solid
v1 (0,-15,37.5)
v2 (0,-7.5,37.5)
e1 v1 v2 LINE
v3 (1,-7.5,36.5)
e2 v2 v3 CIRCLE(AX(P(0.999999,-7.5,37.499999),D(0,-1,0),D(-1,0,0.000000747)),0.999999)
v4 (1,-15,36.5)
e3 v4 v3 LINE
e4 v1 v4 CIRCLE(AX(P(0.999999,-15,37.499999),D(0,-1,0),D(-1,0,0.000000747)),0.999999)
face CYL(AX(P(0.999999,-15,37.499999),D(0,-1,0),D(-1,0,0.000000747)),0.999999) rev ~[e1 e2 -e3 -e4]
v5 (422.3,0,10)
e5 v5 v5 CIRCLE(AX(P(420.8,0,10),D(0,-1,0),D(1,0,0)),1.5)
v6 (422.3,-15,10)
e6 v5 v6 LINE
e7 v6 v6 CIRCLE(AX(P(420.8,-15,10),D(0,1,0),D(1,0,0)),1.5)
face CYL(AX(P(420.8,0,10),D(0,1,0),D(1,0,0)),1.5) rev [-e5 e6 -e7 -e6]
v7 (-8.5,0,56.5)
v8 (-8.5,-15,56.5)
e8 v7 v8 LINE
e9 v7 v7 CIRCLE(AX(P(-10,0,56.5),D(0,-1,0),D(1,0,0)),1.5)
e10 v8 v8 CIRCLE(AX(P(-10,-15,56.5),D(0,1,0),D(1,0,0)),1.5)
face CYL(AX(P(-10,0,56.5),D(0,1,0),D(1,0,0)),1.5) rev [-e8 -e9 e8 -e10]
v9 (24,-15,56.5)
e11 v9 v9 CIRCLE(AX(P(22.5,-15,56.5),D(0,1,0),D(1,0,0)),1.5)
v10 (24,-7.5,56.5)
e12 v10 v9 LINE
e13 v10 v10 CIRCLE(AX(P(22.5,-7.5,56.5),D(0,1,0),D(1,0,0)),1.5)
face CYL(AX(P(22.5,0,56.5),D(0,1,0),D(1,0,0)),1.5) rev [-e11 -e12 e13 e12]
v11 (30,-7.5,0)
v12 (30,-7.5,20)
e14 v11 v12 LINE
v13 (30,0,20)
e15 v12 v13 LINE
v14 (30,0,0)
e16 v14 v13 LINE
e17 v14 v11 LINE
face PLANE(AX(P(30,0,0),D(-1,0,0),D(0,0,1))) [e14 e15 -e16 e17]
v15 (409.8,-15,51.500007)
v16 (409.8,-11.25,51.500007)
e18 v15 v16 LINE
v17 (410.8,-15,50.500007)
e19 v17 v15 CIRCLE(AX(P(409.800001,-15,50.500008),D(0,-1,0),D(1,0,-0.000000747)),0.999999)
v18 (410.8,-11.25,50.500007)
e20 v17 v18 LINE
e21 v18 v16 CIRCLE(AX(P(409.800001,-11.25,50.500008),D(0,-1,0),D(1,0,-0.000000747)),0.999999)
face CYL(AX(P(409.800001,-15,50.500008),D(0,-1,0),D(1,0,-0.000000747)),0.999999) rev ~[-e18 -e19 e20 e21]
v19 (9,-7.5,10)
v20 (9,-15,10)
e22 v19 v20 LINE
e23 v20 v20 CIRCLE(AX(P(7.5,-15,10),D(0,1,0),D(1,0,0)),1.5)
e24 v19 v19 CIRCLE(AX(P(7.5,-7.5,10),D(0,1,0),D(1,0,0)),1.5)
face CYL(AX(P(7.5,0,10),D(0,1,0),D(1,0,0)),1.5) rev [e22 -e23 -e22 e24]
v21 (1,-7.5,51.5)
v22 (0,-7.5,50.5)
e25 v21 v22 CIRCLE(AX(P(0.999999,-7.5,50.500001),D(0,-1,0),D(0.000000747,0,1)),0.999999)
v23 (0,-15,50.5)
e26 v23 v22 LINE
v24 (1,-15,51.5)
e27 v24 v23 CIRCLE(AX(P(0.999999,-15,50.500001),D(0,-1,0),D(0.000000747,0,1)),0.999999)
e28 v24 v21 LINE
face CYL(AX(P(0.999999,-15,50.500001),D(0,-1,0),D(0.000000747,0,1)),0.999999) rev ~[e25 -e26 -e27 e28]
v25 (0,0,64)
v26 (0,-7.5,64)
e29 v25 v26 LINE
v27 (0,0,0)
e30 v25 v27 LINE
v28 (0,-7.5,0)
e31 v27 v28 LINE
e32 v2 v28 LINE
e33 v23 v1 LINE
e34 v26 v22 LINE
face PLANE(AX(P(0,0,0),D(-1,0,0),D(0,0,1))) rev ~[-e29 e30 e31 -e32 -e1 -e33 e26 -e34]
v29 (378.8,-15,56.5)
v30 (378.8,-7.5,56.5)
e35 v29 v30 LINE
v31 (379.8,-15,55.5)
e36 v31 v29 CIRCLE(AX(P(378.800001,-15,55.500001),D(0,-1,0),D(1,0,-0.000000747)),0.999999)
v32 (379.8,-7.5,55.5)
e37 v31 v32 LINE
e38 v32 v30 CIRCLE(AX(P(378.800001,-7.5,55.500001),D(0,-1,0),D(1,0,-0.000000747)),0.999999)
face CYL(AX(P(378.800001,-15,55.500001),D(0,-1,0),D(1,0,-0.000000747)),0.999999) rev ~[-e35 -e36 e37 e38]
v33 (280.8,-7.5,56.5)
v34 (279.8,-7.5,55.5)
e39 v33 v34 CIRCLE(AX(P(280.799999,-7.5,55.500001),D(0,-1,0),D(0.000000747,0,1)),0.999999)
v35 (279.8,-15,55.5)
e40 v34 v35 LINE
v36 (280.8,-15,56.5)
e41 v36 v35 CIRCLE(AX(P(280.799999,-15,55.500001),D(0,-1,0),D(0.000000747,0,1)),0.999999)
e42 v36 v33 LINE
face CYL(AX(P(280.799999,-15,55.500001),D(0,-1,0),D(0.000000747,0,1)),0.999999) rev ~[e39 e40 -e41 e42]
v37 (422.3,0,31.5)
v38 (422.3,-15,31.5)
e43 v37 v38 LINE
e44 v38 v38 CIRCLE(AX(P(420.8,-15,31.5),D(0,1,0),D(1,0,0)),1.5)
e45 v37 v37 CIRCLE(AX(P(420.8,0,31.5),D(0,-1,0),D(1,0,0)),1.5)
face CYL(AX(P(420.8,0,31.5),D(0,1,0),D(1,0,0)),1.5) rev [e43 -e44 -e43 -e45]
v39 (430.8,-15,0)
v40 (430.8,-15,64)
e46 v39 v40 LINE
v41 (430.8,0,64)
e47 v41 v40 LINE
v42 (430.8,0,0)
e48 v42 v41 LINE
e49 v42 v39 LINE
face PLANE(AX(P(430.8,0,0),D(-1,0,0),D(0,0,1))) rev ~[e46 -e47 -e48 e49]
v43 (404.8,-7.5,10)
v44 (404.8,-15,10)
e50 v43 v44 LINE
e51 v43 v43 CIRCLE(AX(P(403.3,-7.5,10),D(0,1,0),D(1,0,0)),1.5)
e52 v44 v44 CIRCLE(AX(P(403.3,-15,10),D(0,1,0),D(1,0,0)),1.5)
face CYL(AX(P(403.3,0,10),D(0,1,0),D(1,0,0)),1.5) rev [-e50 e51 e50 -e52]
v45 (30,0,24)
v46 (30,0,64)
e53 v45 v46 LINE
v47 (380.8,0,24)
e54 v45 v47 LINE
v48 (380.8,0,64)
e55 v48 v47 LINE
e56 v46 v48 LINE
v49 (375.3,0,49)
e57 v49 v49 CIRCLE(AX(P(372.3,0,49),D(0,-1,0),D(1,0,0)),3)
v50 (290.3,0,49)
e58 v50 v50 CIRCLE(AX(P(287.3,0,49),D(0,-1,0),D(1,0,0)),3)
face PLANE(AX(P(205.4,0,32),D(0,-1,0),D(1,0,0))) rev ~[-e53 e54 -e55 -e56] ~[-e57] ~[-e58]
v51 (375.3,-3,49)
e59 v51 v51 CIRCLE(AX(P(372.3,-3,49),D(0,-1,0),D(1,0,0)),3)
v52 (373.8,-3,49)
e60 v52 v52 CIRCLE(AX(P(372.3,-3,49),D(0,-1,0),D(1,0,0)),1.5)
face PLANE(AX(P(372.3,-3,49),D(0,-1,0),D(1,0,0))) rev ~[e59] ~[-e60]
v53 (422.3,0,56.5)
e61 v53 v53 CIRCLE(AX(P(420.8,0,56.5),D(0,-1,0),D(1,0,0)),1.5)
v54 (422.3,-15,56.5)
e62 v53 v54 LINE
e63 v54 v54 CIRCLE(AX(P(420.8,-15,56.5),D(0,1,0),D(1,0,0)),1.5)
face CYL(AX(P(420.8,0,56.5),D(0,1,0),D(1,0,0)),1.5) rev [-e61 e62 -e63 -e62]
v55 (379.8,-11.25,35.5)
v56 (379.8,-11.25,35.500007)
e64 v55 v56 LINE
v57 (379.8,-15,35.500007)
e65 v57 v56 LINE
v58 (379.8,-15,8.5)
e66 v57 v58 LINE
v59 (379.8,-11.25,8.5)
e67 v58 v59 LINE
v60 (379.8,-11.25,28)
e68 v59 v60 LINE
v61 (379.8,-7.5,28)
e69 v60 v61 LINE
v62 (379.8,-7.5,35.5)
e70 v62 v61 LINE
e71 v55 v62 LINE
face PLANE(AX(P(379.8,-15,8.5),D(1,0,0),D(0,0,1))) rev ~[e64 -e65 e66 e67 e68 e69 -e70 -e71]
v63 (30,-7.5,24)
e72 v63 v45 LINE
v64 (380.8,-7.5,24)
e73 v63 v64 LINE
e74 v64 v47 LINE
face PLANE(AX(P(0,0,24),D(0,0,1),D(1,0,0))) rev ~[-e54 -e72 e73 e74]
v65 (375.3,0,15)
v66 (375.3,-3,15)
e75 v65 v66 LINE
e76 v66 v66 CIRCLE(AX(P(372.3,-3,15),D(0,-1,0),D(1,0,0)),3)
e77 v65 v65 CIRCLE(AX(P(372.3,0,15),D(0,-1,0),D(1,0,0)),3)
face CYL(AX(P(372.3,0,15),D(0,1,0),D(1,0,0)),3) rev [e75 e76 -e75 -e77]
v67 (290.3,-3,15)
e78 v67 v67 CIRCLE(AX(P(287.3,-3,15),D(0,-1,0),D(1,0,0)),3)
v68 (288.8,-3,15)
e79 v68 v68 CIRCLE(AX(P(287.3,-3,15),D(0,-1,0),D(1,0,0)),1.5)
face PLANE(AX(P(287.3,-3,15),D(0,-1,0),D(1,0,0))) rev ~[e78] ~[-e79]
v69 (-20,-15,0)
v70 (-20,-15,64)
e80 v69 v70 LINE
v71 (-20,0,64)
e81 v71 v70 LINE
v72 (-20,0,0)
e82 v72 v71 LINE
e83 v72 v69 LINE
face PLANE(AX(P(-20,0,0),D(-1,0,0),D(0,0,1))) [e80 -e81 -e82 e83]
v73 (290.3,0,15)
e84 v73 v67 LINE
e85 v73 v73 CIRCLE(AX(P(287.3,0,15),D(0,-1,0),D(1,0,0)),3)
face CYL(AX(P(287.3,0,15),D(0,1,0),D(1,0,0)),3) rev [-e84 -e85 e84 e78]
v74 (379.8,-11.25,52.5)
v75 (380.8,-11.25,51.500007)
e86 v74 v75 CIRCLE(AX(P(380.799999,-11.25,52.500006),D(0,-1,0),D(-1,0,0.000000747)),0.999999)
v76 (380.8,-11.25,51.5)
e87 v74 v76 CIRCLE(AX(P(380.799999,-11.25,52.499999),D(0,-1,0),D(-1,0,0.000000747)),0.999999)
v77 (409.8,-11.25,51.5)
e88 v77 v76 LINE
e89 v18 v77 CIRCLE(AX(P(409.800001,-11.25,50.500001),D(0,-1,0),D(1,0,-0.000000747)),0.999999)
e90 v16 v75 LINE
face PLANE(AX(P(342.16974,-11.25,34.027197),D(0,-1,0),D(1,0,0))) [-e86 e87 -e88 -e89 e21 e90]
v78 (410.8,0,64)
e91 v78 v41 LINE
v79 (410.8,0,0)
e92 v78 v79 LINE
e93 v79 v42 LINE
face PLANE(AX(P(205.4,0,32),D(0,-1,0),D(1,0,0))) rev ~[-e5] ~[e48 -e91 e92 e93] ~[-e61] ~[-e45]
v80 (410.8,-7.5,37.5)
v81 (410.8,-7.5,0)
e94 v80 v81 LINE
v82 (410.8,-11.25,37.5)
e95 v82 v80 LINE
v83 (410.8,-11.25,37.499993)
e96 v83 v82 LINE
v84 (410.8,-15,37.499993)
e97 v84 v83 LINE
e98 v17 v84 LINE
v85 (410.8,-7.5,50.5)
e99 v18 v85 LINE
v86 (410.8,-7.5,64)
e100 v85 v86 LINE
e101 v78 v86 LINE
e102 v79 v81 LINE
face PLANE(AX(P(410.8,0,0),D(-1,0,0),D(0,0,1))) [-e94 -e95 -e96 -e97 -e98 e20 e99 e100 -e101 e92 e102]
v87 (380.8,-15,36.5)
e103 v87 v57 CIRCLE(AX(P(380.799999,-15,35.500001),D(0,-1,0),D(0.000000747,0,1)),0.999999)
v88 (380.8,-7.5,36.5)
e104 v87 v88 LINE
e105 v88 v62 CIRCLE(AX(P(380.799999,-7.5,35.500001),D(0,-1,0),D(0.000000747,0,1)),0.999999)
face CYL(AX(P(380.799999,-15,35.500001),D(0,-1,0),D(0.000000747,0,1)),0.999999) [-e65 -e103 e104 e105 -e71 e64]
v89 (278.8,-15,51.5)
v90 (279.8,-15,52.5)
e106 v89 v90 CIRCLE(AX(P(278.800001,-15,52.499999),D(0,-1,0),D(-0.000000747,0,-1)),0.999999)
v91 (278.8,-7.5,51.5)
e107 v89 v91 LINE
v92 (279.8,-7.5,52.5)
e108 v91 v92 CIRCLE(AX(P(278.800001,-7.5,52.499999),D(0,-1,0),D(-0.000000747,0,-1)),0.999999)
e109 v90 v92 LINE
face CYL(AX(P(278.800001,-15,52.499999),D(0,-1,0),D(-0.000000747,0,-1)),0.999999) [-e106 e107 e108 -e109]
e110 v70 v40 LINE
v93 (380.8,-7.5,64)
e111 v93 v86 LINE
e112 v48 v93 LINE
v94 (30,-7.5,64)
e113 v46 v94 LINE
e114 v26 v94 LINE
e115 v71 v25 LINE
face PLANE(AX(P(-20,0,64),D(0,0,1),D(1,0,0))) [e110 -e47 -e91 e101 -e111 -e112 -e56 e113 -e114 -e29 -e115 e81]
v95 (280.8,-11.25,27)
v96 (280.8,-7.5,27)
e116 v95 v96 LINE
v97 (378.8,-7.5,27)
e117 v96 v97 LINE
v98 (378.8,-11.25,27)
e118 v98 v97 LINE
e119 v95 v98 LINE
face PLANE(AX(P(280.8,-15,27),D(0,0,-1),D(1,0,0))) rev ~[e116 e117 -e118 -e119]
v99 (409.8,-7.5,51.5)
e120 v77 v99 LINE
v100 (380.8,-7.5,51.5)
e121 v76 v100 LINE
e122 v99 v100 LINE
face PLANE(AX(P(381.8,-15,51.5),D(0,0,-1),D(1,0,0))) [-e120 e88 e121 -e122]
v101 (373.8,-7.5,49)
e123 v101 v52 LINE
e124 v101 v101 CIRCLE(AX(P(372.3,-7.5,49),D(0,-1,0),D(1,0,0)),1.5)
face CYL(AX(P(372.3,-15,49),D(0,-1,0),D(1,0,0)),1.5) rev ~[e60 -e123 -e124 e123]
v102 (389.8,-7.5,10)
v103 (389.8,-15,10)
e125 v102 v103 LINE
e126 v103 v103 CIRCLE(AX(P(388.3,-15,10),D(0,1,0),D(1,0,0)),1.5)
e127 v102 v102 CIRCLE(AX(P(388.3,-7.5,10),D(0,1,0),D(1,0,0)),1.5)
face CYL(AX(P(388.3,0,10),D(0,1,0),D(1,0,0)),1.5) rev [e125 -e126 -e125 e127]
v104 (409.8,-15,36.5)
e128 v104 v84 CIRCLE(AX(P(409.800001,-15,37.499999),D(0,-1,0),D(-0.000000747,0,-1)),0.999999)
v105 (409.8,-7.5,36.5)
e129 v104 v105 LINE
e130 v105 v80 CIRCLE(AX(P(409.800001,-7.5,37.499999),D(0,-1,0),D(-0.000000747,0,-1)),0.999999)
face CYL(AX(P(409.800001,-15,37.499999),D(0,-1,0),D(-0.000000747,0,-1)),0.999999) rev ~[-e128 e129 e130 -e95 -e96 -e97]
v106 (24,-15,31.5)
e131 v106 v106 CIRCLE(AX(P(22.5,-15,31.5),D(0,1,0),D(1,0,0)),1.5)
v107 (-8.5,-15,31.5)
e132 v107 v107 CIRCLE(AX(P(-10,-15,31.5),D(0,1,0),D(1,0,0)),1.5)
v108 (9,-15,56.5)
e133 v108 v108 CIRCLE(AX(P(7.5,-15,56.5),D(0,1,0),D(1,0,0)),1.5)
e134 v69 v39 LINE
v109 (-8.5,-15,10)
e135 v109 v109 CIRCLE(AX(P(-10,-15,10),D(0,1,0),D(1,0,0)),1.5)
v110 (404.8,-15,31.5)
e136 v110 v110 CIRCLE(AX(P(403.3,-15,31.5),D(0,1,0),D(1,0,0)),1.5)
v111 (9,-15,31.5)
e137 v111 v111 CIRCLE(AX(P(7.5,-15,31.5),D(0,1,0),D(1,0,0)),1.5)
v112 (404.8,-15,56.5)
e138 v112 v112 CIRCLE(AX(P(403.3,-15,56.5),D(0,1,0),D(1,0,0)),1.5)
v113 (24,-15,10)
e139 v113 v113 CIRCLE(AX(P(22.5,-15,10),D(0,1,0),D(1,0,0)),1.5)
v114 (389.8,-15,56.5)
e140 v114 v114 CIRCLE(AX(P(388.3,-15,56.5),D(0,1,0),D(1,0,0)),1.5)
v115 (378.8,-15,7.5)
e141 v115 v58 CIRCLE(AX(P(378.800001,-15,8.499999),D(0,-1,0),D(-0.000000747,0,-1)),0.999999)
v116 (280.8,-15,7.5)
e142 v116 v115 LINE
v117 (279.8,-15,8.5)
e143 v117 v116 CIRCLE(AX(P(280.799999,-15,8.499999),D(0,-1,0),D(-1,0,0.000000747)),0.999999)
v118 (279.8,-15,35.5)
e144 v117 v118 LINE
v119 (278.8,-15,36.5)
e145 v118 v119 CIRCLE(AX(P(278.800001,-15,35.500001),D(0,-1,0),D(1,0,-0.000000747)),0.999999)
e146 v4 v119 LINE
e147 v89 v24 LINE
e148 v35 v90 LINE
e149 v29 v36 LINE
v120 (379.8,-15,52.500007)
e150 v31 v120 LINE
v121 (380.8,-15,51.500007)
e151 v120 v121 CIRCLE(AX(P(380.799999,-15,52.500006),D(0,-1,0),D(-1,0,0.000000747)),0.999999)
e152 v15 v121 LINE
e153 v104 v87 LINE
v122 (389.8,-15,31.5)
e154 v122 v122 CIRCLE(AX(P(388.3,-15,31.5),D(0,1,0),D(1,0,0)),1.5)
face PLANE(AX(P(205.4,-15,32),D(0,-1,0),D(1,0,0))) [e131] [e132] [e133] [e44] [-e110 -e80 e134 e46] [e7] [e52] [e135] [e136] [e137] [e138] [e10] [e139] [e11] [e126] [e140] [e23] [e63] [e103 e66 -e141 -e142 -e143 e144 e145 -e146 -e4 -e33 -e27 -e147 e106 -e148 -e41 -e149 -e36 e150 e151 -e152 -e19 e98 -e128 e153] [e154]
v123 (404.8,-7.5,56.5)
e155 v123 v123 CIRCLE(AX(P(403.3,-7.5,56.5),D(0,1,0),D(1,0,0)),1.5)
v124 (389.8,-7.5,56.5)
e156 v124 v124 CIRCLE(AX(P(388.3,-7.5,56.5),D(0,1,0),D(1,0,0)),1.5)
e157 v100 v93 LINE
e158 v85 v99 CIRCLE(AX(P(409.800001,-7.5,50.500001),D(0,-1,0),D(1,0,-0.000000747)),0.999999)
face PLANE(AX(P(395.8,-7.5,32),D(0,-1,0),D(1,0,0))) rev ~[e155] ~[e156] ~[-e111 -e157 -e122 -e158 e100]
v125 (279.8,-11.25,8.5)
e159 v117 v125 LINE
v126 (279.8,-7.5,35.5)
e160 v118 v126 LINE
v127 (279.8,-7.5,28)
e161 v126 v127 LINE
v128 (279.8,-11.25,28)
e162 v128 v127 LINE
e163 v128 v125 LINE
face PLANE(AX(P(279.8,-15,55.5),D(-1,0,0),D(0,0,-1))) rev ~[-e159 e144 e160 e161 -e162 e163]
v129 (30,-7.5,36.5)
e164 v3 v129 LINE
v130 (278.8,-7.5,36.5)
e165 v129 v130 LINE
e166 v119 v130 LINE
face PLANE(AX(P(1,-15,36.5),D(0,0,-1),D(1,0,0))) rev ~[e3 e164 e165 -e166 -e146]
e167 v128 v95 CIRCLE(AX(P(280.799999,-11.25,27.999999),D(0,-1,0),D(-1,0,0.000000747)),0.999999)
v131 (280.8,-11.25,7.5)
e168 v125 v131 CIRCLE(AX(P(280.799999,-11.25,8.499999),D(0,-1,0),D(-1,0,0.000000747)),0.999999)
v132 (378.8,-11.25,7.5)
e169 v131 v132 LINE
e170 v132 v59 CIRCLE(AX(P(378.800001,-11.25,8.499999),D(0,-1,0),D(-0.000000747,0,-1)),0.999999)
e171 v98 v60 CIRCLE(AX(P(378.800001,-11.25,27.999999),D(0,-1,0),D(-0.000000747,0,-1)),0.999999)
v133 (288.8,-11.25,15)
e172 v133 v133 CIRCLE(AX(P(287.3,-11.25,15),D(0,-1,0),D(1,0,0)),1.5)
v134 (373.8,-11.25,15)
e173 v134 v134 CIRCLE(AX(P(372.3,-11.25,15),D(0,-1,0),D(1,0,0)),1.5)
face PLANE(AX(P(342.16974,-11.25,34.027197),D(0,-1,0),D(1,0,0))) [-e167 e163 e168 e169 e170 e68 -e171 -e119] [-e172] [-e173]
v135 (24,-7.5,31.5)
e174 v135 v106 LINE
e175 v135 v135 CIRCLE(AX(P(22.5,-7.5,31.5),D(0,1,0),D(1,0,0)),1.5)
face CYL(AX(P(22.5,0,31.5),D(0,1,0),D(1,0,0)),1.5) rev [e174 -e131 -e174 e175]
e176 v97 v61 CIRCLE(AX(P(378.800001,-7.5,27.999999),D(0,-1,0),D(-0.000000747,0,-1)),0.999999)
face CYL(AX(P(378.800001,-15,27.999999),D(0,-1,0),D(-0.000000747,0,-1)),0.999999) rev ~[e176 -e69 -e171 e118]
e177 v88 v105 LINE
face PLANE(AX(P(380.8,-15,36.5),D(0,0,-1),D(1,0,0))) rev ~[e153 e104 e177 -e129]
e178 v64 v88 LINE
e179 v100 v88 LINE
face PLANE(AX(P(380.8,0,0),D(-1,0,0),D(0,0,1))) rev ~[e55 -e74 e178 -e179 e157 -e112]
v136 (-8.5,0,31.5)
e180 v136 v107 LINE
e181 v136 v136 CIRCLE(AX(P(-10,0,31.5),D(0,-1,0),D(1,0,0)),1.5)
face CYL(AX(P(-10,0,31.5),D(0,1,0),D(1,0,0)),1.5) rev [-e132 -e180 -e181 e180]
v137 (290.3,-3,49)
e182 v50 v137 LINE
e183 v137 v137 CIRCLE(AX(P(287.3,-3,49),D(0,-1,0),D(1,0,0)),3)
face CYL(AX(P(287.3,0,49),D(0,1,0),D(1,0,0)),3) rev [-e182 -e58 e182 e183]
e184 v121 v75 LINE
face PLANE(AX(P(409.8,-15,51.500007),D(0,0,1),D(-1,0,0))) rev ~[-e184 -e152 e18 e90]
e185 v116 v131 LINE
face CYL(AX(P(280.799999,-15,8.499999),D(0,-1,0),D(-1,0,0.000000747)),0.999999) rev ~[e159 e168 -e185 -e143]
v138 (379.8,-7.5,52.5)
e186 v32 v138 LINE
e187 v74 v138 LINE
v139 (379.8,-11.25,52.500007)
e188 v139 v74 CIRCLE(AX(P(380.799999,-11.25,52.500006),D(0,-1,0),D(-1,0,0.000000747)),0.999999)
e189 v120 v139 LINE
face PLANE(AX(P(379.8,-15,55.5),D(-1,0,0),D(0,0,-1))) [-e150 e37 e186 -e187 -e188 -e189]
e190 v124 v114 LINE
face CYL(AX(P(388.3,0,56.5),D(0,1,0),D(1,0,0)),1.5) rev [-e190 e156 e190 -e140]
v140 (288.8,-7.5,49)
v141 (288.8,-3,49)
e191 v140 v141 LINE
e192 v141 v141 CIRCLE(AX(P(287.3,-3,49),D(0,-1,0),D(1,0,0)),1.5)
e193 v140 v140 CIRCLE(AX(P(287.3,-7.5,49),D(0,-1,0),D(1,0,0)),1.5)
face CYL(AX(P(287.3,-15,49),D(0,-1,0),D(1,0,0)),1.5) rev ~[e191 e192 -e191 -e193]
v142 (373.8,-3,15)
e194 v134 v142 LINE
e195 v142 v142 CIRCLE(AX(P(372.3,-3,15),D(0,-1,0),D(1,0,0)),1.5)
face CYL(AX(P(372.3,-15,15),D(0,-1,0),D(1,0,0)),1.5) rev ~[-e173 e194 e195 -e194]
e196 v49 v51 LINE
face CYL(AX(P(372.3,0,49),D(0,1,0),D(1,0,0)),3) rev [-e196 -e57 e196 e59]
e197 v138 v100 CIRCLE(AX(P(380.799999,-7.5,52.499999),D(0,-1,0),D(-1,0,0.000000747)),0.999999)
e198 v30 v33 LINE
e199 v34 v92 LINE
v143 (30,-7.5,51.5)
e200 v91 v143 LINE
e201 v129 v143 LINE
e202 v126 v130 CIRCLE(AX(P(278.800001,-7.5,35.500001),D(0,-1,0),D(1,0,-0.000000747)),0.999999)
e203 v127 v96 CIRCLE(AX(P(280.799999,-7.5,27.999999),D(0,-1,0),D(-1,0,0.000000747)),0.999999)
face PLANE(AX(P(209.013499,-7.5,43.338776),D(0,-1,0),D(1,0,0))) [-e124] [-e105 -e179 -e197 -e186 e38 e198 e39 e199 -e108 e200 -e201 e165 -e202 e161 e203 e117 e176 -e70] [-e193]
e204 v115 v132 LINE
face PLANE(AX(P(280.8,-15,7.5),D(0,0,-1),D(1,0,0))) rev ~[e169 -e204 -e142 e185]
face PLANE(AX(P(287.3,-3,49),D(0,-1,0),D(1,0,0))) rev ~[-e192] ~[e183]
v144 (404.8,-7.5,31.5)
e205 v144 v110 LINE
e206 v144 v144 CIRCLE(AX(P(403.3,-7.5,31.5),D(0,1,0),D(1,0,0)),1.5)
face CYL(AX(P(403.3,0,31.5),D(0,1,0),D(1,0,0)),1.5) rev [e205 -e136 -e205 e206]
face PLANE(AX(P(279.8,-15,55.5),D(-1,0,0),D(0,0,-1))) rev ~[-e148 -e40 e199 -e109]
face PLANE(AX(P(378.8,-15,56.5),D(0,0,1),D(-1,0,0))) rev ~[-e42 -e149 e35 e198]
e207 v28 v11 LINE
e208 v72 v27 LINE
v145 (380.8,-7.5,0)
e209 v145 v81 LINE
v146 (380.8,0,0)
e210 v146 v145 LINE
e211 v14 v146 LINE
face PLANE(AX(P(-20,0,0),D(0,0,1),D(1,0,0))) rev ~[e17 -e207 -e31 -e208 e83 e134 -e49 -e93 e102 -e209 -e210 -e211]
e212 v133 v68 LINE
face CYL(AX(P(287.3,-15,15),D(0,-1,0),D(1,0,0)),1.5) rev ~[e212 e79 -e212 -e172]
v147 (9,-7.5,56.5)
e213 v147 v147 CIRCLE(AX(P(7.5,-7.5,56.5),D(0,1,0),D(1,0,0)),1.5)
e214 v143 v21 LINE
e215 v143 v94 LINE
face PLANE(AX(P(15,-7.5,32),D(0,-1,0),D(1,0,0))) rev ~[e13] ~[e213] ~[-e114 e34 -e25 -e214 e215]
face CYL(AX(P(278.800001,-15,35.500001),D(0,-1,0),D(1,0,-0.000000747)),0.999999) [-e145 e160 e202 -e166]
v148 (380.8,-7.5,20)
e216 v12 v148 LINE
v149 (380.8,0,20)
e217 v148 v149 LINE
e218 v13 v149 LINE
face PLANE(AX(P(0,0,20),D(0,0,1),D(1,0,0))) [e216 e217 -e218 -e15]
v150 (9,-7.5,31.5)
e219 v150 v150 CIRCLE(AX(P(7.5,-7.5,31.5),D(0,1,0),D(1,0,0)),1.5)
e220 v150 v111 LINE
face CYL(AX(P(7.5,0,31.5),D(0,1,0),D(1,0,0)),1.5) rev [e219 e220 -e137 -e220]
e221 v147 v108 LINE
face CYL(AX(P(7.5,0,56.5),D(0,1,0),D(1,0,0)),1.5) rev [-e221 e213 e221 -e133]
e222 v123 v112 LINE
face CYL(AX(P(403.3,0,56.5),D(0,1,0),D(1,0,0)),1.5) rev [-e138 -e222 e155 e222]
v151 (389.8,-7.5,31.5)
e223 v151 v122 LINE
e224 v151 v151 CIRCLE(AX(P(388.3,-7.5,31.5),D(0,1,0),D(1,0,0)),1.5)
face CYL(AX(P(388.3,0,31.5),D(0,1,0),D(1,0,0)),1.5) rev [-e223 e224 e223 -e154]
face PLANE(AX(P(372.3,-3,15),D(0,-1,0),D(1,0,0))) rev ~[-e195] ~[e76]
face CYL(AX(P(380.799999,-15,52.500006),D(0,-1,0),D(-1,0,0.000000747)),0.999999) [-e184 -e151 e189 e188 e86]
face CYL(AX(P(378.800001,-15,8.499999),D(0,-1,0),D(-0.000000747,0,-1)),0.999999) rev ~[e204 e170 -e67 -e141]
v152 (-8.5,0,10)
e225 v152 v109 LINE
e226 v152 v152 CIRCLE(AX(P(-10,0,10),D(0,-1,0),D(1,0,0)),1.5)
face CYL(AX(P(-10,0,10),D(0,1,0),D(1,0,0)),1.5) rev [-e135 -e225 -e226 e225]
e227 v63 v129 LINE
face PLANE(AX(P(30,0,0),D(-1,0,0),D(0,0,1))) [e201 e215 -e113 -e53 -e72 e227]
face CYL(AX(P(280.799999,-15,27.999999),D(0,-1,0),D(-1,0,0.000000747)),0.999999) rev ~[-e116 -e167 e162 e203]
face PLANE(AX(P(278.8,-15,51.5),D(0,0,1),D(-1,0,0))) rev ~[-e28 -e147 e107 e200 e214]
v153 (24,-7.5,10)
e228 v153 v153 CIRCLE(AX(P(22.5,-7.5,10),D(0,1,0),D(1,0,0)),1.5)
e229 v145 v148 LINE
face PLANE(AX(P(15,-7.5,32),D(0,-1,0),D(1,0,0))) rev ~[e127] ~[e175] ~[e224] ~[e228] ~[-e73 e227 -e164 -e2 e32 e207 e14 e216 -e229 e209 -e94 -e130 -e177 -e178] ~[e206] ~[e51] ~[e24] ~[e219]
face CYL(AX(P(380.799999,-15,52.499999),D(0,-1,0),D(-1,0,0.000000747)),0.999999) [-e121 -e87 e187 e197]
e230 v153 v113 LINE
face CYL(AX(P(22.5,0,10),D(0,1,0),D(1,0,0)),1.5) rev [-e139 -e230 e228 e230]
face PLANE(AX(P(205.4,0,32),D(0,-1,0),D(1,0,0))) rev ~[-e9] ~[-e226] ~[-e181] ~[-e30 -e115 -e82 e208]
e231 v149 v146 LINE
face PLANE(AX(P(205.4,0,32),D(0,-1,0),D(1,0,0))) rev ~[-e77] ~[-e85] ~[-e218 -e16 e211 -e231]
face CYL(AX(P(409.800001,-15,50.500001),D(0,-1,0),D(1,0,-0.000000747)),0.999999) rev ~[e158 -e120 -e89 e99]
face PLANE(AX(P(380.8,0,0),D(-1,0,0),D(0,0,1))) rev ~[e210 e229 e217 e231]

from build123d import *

# Parameters (mm, degrees)
SKETCH_W        = 450.8
SKETCH_H        = 64
PAD_DEPTH       = 15
SKETCH001_W     = 30
SKETCH001_H     = 64
POCKET_DEPTH    = 7.5
POCKET001_DEPTH = 3.75
POCKET002_DEPTH = 15.001
SKETCH005_R     = 1.5
POCKET004_DEPTH = 15.001
SKETCH006_W     = 410.8
SKETCH006_H     = 4
POCKET005_DEPTH = 7.5
SKETCH007_R     = 1.5
POCKET006_DEPTH = 15.001
POCKET007_DEPTH = 7.5
SKETCH010_R     = 3
POCKET009_DEPTH = 3


with BuildPart() as part:
    # Sketch → Pad (new body)
    with BuildSketch(Plane.XZ):
        with Locations((205.4, 32)):
            Rectangle(SKETCH_W, SKETCH_H)
    extrude(amount=PAD_DEPTH)

    # Sketch001 (on DatumPlane) → Pocket (cut)
    with BuildSketch(Plane.XZ):
        with Locations((15, 32)):
            Rectangle(SKETCH001_W, SKETCH001_H)
        with Locations((395.8, 32)):
            Rectangle(SKETCH001_W, SKETCH001_H)
    extrude(amount=POCKET_DEPTH, mode=Mode.SUBTRACT)

    # Sketch002 (on DatumPlane) → Pocket001 (cut)
    with BuildSketch(Plane.XZ.offset(15)):
        with BuildLine():
            Line((279.8, 55.5), (279.8, 8.5))
            ThreePointArc((279.8, 8.5), (280.092893, 7.792893), (280.8, 7.5))
            Line((280.8, 7.5), (378.8, 7.5))
            ThreePointArc((378.8, 7.5), (379.507107, 7.792893), (379.8, 8.5))
            Line((379.8, 8.5), (379.8, 35.500007))
            ThreePointArc((380.8, 36.500007), (380.092893, 36.207114), (379.8, 35.500007))
            Line((380.8, 36.500007), (409.8, 36.500007))
            ThreePointArc((409.8, 36.500007), (410.507102, 36.792895), (410.8, 37.499993))
            Line((410.8, 37.499993), (410.8, 44))
            Line((410.8, 44), (410.8, 50.500007))
            ThreePointArc((410.8, 50.500007), (410.507107, 51.207114), (409.8, 51.500007))
            Line((409.8, 51.500007), (380.8, 51.500007))
            ThreePointArc((379.8, 52.500007), (380.092893, 51.7929), (380.8, 51.500007))
            Line((379.8, 55.5), (379.8, 52.500007))
            ThreePointArc((379.8, 55.5), (379.507107, 56.207107), (378.8, 56.5))
            Line((378.8, 56.5), (280.8, 56.5))
            ThreePointArc((280.8, 56.5), (280.092893, 56.207107), (279.8, 55.5))
        make_face()
    extrude(amount=-POCKET001_DEPTH, mode=Mode.SUBTRACT)

    # Sketch003 (on DatumPlane) → Pocket002 (cut, through all)
    with BuildSketch(Plane.XZ.offset(15)):
        with BuildLine():
            Line((381.8, 51.5), (409.8, 51.5))
            ThreePointArc((410.8, 50.5), (410.507107, 51.207107), (409.8, 51.5))
            Line((410.8, 50.5), (410.8, 37.5))
            ThreePointArc((409.8, 36.5), (410.507107, 36.792893), (410.8, 37.5))
            Line((409.8, 36.5), (381.8, 36.5))
            ThreePointArc((380.8, 37.5), (381.092893, 36.792893), (381.8, 36.5))
            Line((380.8, 37.5), (380.8, 44))
            Line((380.8, 44), (380.8, 50.5))
            ThreePointArc((381.8, 51.5), (381.092893, 51.207107), (380.8, 50.5))
        make_face()
    extrude(amount=-POCKET002_DEPTH, mode=Mode.SUBTRACT)

    # Sketch005 (on DatumPlane) → Pocket004 (cut, through all)
    with BuildSketch(Plane.XZ.offset(15)):
        with Locations((287.3, 49)):
            Circle(SKETCH005_R)
        with Locations((287.3, 15)):
            Circle(SKETCH005_R)
        with Locations((372.3, 49)):
            Circle(SKETCH005_R)
        with Locations((372.3, 15)):
            Circle(SKETCH005_R)
    extrude(amount=-POCKET004_DEPTH, mode=Mode.SUBTRACT)

    # Sketch006 (on DatumPlane) → Pocket005 (cut)
    with BuildSketch(Plane.XZ):
        with Locations((205.4, 22)):
            Rectangle(SKETCH006_W, SKETCH006_H)
    extrude(amount=POCKET005_DEPTH, mode=Mode.SUBTRACT)

    # Sketch007 (on DatumPlane) → Pocket006 (cut, through all)
    with BuildSketch(Plane.XZ):
        with Locations((7.5, 56.5)):
            Circle(SKETCH007_R)
        with Locations((7.5, 31.5)):
            Circle(SKETCH007_R)
        with Locations((7.5, 10)):
            Circle(SKETCH007_R)
        with Locations((22.5, 56.5)):
            Circle(SKETCH007_R)
        with Locations((22.5, 31.5)):
            Circle(SKETCH007_R)
        with Locations((22.5, 10)):
            Circle(SKETCH007_R)
        with Locations((388.3, 56.5)):
            Circle(SKETCH007_R)
        with Locations((388.3, 31.5)):
            Circle(SKETCH007_R)
        with Locations((388.3, 10)):
            Circle(SKETCH007_R)
        with Locations((403.3, 56.5)):
            Circle(SKETCH007_R)
        with Locations((403.3, 31.5)):
            Circle(SKETCH007_R)
        with Locations((403.3, 10)):
            Circle(SKETCH007_R)
        with Locations((-10, 56.5)):
            Circle(SKETCH007_R)
        with Locations((-10, 31.5)):
            Circle(SKETCH007_R)
        with Locations((-10, 10)):
            Circle(SKETCH007_R)
        with Locations((420.8, 56.5)):
            Circle(SKETCH007_R)
        with Locations((420.8, 31.5)):
            Circle(SKETCH007_R)
        with Locations((420.8, 10)):
            Circle(SKETCH007_R)
    extrude(amount=POCKET006_DEPTH, mode=Mode.SUBTRACT)

    # Sketch008 (on DatumPlane) → Pocket007 (cut)
    with BuildSketch(Plane.XZ.offset(15)):
        with BuildLine():
            Line((378.8, 56.5), (280.8, 56.5))
            ThreePointArc((280.8, 56.5), (280.092893, 56.207107), (279.8, 55.5))
            Line((279.8, 55.5), (279.8, 52.5))
            ThreePointArc((278.8, 51.5), (279.507107, 51.792893), (279.8, 52.5))
            Line((278.8, 51.5), (1, 51.5))
            ThreePointArc((1, 51.5), (0.292893, 51.207107), (0, 50.5))
            Line((0, 50.5), (0, 37.5))
            ThreePointArc((0, 37.5), (0.292893, 36.792893), (1, 36.5))
            Line((1, 36.5), (278.8, 36.5))
            ThreePointArc((279.8, 35.5), (279.507107, 36.207107), (278.8, 36.5))
            Line((279.8, 35.5), (279.8, 28))
            ThreePointArc((279.8, 28), (280.092893, 27.292893), (280.8, 27))
            Line((280.8, 27), (378.8, 27))
            ThreePointArc((378.8, 27), (379.507107, 27.292893), (379.8, 28))
            Line((379.8, 35.5), (379.8, 28))
            ThreePointArc((380.8, 36.5), (380.092893, 36.207107), (379.8, 35.5))
            Line((380.8, 36.5), (409.8, 36.5))
            ThreePointArc((409.8, 36.5), (410.507107, 36.792893), (410.8, 37.5))
            Line((410.8, 37.5), (410.8, 44))
            Line((410.8, 44), (410.8, 50.5))
            ThreePointArc((410.8, 50.5), (410.507107, 51.207107), (409.8, 51.5))
            Line((409.8, 51.5), (380.8, 51.5))
            ThreePointArc((379.8, 52.5), (380.092893, 51.792893), (380.8, 51.5))
            Line((379.8, 55.5), (379.8, 52.5))
            ThreePointArc((379.8, 55.5), (379.507107, 56.207107), (378.8, 56.5))
        make_face()
    extrude(amount=-POCKET007_DEPTH, mode=Mode.SUBTRACT)

    # Sketch010 (on DatumPlane) → Pocket009 (cut)
    with BuildSketch(Plane.XZ):
        with Locations((287.3, 49)):
            Circle(SKETCH010_R)
        with Locations((372.3, 49)):
            Circle(SKETCH010_R)
        with Locations((287.3, 15)):
            Circle(SKETCH010_R)
        with Locations((372.3, 15)):
            Circle(SKETCH010_R)
    extrude(amount=POCKET009_DEPTH, mode=Mode.SUBTRACT)


solid = part.part
